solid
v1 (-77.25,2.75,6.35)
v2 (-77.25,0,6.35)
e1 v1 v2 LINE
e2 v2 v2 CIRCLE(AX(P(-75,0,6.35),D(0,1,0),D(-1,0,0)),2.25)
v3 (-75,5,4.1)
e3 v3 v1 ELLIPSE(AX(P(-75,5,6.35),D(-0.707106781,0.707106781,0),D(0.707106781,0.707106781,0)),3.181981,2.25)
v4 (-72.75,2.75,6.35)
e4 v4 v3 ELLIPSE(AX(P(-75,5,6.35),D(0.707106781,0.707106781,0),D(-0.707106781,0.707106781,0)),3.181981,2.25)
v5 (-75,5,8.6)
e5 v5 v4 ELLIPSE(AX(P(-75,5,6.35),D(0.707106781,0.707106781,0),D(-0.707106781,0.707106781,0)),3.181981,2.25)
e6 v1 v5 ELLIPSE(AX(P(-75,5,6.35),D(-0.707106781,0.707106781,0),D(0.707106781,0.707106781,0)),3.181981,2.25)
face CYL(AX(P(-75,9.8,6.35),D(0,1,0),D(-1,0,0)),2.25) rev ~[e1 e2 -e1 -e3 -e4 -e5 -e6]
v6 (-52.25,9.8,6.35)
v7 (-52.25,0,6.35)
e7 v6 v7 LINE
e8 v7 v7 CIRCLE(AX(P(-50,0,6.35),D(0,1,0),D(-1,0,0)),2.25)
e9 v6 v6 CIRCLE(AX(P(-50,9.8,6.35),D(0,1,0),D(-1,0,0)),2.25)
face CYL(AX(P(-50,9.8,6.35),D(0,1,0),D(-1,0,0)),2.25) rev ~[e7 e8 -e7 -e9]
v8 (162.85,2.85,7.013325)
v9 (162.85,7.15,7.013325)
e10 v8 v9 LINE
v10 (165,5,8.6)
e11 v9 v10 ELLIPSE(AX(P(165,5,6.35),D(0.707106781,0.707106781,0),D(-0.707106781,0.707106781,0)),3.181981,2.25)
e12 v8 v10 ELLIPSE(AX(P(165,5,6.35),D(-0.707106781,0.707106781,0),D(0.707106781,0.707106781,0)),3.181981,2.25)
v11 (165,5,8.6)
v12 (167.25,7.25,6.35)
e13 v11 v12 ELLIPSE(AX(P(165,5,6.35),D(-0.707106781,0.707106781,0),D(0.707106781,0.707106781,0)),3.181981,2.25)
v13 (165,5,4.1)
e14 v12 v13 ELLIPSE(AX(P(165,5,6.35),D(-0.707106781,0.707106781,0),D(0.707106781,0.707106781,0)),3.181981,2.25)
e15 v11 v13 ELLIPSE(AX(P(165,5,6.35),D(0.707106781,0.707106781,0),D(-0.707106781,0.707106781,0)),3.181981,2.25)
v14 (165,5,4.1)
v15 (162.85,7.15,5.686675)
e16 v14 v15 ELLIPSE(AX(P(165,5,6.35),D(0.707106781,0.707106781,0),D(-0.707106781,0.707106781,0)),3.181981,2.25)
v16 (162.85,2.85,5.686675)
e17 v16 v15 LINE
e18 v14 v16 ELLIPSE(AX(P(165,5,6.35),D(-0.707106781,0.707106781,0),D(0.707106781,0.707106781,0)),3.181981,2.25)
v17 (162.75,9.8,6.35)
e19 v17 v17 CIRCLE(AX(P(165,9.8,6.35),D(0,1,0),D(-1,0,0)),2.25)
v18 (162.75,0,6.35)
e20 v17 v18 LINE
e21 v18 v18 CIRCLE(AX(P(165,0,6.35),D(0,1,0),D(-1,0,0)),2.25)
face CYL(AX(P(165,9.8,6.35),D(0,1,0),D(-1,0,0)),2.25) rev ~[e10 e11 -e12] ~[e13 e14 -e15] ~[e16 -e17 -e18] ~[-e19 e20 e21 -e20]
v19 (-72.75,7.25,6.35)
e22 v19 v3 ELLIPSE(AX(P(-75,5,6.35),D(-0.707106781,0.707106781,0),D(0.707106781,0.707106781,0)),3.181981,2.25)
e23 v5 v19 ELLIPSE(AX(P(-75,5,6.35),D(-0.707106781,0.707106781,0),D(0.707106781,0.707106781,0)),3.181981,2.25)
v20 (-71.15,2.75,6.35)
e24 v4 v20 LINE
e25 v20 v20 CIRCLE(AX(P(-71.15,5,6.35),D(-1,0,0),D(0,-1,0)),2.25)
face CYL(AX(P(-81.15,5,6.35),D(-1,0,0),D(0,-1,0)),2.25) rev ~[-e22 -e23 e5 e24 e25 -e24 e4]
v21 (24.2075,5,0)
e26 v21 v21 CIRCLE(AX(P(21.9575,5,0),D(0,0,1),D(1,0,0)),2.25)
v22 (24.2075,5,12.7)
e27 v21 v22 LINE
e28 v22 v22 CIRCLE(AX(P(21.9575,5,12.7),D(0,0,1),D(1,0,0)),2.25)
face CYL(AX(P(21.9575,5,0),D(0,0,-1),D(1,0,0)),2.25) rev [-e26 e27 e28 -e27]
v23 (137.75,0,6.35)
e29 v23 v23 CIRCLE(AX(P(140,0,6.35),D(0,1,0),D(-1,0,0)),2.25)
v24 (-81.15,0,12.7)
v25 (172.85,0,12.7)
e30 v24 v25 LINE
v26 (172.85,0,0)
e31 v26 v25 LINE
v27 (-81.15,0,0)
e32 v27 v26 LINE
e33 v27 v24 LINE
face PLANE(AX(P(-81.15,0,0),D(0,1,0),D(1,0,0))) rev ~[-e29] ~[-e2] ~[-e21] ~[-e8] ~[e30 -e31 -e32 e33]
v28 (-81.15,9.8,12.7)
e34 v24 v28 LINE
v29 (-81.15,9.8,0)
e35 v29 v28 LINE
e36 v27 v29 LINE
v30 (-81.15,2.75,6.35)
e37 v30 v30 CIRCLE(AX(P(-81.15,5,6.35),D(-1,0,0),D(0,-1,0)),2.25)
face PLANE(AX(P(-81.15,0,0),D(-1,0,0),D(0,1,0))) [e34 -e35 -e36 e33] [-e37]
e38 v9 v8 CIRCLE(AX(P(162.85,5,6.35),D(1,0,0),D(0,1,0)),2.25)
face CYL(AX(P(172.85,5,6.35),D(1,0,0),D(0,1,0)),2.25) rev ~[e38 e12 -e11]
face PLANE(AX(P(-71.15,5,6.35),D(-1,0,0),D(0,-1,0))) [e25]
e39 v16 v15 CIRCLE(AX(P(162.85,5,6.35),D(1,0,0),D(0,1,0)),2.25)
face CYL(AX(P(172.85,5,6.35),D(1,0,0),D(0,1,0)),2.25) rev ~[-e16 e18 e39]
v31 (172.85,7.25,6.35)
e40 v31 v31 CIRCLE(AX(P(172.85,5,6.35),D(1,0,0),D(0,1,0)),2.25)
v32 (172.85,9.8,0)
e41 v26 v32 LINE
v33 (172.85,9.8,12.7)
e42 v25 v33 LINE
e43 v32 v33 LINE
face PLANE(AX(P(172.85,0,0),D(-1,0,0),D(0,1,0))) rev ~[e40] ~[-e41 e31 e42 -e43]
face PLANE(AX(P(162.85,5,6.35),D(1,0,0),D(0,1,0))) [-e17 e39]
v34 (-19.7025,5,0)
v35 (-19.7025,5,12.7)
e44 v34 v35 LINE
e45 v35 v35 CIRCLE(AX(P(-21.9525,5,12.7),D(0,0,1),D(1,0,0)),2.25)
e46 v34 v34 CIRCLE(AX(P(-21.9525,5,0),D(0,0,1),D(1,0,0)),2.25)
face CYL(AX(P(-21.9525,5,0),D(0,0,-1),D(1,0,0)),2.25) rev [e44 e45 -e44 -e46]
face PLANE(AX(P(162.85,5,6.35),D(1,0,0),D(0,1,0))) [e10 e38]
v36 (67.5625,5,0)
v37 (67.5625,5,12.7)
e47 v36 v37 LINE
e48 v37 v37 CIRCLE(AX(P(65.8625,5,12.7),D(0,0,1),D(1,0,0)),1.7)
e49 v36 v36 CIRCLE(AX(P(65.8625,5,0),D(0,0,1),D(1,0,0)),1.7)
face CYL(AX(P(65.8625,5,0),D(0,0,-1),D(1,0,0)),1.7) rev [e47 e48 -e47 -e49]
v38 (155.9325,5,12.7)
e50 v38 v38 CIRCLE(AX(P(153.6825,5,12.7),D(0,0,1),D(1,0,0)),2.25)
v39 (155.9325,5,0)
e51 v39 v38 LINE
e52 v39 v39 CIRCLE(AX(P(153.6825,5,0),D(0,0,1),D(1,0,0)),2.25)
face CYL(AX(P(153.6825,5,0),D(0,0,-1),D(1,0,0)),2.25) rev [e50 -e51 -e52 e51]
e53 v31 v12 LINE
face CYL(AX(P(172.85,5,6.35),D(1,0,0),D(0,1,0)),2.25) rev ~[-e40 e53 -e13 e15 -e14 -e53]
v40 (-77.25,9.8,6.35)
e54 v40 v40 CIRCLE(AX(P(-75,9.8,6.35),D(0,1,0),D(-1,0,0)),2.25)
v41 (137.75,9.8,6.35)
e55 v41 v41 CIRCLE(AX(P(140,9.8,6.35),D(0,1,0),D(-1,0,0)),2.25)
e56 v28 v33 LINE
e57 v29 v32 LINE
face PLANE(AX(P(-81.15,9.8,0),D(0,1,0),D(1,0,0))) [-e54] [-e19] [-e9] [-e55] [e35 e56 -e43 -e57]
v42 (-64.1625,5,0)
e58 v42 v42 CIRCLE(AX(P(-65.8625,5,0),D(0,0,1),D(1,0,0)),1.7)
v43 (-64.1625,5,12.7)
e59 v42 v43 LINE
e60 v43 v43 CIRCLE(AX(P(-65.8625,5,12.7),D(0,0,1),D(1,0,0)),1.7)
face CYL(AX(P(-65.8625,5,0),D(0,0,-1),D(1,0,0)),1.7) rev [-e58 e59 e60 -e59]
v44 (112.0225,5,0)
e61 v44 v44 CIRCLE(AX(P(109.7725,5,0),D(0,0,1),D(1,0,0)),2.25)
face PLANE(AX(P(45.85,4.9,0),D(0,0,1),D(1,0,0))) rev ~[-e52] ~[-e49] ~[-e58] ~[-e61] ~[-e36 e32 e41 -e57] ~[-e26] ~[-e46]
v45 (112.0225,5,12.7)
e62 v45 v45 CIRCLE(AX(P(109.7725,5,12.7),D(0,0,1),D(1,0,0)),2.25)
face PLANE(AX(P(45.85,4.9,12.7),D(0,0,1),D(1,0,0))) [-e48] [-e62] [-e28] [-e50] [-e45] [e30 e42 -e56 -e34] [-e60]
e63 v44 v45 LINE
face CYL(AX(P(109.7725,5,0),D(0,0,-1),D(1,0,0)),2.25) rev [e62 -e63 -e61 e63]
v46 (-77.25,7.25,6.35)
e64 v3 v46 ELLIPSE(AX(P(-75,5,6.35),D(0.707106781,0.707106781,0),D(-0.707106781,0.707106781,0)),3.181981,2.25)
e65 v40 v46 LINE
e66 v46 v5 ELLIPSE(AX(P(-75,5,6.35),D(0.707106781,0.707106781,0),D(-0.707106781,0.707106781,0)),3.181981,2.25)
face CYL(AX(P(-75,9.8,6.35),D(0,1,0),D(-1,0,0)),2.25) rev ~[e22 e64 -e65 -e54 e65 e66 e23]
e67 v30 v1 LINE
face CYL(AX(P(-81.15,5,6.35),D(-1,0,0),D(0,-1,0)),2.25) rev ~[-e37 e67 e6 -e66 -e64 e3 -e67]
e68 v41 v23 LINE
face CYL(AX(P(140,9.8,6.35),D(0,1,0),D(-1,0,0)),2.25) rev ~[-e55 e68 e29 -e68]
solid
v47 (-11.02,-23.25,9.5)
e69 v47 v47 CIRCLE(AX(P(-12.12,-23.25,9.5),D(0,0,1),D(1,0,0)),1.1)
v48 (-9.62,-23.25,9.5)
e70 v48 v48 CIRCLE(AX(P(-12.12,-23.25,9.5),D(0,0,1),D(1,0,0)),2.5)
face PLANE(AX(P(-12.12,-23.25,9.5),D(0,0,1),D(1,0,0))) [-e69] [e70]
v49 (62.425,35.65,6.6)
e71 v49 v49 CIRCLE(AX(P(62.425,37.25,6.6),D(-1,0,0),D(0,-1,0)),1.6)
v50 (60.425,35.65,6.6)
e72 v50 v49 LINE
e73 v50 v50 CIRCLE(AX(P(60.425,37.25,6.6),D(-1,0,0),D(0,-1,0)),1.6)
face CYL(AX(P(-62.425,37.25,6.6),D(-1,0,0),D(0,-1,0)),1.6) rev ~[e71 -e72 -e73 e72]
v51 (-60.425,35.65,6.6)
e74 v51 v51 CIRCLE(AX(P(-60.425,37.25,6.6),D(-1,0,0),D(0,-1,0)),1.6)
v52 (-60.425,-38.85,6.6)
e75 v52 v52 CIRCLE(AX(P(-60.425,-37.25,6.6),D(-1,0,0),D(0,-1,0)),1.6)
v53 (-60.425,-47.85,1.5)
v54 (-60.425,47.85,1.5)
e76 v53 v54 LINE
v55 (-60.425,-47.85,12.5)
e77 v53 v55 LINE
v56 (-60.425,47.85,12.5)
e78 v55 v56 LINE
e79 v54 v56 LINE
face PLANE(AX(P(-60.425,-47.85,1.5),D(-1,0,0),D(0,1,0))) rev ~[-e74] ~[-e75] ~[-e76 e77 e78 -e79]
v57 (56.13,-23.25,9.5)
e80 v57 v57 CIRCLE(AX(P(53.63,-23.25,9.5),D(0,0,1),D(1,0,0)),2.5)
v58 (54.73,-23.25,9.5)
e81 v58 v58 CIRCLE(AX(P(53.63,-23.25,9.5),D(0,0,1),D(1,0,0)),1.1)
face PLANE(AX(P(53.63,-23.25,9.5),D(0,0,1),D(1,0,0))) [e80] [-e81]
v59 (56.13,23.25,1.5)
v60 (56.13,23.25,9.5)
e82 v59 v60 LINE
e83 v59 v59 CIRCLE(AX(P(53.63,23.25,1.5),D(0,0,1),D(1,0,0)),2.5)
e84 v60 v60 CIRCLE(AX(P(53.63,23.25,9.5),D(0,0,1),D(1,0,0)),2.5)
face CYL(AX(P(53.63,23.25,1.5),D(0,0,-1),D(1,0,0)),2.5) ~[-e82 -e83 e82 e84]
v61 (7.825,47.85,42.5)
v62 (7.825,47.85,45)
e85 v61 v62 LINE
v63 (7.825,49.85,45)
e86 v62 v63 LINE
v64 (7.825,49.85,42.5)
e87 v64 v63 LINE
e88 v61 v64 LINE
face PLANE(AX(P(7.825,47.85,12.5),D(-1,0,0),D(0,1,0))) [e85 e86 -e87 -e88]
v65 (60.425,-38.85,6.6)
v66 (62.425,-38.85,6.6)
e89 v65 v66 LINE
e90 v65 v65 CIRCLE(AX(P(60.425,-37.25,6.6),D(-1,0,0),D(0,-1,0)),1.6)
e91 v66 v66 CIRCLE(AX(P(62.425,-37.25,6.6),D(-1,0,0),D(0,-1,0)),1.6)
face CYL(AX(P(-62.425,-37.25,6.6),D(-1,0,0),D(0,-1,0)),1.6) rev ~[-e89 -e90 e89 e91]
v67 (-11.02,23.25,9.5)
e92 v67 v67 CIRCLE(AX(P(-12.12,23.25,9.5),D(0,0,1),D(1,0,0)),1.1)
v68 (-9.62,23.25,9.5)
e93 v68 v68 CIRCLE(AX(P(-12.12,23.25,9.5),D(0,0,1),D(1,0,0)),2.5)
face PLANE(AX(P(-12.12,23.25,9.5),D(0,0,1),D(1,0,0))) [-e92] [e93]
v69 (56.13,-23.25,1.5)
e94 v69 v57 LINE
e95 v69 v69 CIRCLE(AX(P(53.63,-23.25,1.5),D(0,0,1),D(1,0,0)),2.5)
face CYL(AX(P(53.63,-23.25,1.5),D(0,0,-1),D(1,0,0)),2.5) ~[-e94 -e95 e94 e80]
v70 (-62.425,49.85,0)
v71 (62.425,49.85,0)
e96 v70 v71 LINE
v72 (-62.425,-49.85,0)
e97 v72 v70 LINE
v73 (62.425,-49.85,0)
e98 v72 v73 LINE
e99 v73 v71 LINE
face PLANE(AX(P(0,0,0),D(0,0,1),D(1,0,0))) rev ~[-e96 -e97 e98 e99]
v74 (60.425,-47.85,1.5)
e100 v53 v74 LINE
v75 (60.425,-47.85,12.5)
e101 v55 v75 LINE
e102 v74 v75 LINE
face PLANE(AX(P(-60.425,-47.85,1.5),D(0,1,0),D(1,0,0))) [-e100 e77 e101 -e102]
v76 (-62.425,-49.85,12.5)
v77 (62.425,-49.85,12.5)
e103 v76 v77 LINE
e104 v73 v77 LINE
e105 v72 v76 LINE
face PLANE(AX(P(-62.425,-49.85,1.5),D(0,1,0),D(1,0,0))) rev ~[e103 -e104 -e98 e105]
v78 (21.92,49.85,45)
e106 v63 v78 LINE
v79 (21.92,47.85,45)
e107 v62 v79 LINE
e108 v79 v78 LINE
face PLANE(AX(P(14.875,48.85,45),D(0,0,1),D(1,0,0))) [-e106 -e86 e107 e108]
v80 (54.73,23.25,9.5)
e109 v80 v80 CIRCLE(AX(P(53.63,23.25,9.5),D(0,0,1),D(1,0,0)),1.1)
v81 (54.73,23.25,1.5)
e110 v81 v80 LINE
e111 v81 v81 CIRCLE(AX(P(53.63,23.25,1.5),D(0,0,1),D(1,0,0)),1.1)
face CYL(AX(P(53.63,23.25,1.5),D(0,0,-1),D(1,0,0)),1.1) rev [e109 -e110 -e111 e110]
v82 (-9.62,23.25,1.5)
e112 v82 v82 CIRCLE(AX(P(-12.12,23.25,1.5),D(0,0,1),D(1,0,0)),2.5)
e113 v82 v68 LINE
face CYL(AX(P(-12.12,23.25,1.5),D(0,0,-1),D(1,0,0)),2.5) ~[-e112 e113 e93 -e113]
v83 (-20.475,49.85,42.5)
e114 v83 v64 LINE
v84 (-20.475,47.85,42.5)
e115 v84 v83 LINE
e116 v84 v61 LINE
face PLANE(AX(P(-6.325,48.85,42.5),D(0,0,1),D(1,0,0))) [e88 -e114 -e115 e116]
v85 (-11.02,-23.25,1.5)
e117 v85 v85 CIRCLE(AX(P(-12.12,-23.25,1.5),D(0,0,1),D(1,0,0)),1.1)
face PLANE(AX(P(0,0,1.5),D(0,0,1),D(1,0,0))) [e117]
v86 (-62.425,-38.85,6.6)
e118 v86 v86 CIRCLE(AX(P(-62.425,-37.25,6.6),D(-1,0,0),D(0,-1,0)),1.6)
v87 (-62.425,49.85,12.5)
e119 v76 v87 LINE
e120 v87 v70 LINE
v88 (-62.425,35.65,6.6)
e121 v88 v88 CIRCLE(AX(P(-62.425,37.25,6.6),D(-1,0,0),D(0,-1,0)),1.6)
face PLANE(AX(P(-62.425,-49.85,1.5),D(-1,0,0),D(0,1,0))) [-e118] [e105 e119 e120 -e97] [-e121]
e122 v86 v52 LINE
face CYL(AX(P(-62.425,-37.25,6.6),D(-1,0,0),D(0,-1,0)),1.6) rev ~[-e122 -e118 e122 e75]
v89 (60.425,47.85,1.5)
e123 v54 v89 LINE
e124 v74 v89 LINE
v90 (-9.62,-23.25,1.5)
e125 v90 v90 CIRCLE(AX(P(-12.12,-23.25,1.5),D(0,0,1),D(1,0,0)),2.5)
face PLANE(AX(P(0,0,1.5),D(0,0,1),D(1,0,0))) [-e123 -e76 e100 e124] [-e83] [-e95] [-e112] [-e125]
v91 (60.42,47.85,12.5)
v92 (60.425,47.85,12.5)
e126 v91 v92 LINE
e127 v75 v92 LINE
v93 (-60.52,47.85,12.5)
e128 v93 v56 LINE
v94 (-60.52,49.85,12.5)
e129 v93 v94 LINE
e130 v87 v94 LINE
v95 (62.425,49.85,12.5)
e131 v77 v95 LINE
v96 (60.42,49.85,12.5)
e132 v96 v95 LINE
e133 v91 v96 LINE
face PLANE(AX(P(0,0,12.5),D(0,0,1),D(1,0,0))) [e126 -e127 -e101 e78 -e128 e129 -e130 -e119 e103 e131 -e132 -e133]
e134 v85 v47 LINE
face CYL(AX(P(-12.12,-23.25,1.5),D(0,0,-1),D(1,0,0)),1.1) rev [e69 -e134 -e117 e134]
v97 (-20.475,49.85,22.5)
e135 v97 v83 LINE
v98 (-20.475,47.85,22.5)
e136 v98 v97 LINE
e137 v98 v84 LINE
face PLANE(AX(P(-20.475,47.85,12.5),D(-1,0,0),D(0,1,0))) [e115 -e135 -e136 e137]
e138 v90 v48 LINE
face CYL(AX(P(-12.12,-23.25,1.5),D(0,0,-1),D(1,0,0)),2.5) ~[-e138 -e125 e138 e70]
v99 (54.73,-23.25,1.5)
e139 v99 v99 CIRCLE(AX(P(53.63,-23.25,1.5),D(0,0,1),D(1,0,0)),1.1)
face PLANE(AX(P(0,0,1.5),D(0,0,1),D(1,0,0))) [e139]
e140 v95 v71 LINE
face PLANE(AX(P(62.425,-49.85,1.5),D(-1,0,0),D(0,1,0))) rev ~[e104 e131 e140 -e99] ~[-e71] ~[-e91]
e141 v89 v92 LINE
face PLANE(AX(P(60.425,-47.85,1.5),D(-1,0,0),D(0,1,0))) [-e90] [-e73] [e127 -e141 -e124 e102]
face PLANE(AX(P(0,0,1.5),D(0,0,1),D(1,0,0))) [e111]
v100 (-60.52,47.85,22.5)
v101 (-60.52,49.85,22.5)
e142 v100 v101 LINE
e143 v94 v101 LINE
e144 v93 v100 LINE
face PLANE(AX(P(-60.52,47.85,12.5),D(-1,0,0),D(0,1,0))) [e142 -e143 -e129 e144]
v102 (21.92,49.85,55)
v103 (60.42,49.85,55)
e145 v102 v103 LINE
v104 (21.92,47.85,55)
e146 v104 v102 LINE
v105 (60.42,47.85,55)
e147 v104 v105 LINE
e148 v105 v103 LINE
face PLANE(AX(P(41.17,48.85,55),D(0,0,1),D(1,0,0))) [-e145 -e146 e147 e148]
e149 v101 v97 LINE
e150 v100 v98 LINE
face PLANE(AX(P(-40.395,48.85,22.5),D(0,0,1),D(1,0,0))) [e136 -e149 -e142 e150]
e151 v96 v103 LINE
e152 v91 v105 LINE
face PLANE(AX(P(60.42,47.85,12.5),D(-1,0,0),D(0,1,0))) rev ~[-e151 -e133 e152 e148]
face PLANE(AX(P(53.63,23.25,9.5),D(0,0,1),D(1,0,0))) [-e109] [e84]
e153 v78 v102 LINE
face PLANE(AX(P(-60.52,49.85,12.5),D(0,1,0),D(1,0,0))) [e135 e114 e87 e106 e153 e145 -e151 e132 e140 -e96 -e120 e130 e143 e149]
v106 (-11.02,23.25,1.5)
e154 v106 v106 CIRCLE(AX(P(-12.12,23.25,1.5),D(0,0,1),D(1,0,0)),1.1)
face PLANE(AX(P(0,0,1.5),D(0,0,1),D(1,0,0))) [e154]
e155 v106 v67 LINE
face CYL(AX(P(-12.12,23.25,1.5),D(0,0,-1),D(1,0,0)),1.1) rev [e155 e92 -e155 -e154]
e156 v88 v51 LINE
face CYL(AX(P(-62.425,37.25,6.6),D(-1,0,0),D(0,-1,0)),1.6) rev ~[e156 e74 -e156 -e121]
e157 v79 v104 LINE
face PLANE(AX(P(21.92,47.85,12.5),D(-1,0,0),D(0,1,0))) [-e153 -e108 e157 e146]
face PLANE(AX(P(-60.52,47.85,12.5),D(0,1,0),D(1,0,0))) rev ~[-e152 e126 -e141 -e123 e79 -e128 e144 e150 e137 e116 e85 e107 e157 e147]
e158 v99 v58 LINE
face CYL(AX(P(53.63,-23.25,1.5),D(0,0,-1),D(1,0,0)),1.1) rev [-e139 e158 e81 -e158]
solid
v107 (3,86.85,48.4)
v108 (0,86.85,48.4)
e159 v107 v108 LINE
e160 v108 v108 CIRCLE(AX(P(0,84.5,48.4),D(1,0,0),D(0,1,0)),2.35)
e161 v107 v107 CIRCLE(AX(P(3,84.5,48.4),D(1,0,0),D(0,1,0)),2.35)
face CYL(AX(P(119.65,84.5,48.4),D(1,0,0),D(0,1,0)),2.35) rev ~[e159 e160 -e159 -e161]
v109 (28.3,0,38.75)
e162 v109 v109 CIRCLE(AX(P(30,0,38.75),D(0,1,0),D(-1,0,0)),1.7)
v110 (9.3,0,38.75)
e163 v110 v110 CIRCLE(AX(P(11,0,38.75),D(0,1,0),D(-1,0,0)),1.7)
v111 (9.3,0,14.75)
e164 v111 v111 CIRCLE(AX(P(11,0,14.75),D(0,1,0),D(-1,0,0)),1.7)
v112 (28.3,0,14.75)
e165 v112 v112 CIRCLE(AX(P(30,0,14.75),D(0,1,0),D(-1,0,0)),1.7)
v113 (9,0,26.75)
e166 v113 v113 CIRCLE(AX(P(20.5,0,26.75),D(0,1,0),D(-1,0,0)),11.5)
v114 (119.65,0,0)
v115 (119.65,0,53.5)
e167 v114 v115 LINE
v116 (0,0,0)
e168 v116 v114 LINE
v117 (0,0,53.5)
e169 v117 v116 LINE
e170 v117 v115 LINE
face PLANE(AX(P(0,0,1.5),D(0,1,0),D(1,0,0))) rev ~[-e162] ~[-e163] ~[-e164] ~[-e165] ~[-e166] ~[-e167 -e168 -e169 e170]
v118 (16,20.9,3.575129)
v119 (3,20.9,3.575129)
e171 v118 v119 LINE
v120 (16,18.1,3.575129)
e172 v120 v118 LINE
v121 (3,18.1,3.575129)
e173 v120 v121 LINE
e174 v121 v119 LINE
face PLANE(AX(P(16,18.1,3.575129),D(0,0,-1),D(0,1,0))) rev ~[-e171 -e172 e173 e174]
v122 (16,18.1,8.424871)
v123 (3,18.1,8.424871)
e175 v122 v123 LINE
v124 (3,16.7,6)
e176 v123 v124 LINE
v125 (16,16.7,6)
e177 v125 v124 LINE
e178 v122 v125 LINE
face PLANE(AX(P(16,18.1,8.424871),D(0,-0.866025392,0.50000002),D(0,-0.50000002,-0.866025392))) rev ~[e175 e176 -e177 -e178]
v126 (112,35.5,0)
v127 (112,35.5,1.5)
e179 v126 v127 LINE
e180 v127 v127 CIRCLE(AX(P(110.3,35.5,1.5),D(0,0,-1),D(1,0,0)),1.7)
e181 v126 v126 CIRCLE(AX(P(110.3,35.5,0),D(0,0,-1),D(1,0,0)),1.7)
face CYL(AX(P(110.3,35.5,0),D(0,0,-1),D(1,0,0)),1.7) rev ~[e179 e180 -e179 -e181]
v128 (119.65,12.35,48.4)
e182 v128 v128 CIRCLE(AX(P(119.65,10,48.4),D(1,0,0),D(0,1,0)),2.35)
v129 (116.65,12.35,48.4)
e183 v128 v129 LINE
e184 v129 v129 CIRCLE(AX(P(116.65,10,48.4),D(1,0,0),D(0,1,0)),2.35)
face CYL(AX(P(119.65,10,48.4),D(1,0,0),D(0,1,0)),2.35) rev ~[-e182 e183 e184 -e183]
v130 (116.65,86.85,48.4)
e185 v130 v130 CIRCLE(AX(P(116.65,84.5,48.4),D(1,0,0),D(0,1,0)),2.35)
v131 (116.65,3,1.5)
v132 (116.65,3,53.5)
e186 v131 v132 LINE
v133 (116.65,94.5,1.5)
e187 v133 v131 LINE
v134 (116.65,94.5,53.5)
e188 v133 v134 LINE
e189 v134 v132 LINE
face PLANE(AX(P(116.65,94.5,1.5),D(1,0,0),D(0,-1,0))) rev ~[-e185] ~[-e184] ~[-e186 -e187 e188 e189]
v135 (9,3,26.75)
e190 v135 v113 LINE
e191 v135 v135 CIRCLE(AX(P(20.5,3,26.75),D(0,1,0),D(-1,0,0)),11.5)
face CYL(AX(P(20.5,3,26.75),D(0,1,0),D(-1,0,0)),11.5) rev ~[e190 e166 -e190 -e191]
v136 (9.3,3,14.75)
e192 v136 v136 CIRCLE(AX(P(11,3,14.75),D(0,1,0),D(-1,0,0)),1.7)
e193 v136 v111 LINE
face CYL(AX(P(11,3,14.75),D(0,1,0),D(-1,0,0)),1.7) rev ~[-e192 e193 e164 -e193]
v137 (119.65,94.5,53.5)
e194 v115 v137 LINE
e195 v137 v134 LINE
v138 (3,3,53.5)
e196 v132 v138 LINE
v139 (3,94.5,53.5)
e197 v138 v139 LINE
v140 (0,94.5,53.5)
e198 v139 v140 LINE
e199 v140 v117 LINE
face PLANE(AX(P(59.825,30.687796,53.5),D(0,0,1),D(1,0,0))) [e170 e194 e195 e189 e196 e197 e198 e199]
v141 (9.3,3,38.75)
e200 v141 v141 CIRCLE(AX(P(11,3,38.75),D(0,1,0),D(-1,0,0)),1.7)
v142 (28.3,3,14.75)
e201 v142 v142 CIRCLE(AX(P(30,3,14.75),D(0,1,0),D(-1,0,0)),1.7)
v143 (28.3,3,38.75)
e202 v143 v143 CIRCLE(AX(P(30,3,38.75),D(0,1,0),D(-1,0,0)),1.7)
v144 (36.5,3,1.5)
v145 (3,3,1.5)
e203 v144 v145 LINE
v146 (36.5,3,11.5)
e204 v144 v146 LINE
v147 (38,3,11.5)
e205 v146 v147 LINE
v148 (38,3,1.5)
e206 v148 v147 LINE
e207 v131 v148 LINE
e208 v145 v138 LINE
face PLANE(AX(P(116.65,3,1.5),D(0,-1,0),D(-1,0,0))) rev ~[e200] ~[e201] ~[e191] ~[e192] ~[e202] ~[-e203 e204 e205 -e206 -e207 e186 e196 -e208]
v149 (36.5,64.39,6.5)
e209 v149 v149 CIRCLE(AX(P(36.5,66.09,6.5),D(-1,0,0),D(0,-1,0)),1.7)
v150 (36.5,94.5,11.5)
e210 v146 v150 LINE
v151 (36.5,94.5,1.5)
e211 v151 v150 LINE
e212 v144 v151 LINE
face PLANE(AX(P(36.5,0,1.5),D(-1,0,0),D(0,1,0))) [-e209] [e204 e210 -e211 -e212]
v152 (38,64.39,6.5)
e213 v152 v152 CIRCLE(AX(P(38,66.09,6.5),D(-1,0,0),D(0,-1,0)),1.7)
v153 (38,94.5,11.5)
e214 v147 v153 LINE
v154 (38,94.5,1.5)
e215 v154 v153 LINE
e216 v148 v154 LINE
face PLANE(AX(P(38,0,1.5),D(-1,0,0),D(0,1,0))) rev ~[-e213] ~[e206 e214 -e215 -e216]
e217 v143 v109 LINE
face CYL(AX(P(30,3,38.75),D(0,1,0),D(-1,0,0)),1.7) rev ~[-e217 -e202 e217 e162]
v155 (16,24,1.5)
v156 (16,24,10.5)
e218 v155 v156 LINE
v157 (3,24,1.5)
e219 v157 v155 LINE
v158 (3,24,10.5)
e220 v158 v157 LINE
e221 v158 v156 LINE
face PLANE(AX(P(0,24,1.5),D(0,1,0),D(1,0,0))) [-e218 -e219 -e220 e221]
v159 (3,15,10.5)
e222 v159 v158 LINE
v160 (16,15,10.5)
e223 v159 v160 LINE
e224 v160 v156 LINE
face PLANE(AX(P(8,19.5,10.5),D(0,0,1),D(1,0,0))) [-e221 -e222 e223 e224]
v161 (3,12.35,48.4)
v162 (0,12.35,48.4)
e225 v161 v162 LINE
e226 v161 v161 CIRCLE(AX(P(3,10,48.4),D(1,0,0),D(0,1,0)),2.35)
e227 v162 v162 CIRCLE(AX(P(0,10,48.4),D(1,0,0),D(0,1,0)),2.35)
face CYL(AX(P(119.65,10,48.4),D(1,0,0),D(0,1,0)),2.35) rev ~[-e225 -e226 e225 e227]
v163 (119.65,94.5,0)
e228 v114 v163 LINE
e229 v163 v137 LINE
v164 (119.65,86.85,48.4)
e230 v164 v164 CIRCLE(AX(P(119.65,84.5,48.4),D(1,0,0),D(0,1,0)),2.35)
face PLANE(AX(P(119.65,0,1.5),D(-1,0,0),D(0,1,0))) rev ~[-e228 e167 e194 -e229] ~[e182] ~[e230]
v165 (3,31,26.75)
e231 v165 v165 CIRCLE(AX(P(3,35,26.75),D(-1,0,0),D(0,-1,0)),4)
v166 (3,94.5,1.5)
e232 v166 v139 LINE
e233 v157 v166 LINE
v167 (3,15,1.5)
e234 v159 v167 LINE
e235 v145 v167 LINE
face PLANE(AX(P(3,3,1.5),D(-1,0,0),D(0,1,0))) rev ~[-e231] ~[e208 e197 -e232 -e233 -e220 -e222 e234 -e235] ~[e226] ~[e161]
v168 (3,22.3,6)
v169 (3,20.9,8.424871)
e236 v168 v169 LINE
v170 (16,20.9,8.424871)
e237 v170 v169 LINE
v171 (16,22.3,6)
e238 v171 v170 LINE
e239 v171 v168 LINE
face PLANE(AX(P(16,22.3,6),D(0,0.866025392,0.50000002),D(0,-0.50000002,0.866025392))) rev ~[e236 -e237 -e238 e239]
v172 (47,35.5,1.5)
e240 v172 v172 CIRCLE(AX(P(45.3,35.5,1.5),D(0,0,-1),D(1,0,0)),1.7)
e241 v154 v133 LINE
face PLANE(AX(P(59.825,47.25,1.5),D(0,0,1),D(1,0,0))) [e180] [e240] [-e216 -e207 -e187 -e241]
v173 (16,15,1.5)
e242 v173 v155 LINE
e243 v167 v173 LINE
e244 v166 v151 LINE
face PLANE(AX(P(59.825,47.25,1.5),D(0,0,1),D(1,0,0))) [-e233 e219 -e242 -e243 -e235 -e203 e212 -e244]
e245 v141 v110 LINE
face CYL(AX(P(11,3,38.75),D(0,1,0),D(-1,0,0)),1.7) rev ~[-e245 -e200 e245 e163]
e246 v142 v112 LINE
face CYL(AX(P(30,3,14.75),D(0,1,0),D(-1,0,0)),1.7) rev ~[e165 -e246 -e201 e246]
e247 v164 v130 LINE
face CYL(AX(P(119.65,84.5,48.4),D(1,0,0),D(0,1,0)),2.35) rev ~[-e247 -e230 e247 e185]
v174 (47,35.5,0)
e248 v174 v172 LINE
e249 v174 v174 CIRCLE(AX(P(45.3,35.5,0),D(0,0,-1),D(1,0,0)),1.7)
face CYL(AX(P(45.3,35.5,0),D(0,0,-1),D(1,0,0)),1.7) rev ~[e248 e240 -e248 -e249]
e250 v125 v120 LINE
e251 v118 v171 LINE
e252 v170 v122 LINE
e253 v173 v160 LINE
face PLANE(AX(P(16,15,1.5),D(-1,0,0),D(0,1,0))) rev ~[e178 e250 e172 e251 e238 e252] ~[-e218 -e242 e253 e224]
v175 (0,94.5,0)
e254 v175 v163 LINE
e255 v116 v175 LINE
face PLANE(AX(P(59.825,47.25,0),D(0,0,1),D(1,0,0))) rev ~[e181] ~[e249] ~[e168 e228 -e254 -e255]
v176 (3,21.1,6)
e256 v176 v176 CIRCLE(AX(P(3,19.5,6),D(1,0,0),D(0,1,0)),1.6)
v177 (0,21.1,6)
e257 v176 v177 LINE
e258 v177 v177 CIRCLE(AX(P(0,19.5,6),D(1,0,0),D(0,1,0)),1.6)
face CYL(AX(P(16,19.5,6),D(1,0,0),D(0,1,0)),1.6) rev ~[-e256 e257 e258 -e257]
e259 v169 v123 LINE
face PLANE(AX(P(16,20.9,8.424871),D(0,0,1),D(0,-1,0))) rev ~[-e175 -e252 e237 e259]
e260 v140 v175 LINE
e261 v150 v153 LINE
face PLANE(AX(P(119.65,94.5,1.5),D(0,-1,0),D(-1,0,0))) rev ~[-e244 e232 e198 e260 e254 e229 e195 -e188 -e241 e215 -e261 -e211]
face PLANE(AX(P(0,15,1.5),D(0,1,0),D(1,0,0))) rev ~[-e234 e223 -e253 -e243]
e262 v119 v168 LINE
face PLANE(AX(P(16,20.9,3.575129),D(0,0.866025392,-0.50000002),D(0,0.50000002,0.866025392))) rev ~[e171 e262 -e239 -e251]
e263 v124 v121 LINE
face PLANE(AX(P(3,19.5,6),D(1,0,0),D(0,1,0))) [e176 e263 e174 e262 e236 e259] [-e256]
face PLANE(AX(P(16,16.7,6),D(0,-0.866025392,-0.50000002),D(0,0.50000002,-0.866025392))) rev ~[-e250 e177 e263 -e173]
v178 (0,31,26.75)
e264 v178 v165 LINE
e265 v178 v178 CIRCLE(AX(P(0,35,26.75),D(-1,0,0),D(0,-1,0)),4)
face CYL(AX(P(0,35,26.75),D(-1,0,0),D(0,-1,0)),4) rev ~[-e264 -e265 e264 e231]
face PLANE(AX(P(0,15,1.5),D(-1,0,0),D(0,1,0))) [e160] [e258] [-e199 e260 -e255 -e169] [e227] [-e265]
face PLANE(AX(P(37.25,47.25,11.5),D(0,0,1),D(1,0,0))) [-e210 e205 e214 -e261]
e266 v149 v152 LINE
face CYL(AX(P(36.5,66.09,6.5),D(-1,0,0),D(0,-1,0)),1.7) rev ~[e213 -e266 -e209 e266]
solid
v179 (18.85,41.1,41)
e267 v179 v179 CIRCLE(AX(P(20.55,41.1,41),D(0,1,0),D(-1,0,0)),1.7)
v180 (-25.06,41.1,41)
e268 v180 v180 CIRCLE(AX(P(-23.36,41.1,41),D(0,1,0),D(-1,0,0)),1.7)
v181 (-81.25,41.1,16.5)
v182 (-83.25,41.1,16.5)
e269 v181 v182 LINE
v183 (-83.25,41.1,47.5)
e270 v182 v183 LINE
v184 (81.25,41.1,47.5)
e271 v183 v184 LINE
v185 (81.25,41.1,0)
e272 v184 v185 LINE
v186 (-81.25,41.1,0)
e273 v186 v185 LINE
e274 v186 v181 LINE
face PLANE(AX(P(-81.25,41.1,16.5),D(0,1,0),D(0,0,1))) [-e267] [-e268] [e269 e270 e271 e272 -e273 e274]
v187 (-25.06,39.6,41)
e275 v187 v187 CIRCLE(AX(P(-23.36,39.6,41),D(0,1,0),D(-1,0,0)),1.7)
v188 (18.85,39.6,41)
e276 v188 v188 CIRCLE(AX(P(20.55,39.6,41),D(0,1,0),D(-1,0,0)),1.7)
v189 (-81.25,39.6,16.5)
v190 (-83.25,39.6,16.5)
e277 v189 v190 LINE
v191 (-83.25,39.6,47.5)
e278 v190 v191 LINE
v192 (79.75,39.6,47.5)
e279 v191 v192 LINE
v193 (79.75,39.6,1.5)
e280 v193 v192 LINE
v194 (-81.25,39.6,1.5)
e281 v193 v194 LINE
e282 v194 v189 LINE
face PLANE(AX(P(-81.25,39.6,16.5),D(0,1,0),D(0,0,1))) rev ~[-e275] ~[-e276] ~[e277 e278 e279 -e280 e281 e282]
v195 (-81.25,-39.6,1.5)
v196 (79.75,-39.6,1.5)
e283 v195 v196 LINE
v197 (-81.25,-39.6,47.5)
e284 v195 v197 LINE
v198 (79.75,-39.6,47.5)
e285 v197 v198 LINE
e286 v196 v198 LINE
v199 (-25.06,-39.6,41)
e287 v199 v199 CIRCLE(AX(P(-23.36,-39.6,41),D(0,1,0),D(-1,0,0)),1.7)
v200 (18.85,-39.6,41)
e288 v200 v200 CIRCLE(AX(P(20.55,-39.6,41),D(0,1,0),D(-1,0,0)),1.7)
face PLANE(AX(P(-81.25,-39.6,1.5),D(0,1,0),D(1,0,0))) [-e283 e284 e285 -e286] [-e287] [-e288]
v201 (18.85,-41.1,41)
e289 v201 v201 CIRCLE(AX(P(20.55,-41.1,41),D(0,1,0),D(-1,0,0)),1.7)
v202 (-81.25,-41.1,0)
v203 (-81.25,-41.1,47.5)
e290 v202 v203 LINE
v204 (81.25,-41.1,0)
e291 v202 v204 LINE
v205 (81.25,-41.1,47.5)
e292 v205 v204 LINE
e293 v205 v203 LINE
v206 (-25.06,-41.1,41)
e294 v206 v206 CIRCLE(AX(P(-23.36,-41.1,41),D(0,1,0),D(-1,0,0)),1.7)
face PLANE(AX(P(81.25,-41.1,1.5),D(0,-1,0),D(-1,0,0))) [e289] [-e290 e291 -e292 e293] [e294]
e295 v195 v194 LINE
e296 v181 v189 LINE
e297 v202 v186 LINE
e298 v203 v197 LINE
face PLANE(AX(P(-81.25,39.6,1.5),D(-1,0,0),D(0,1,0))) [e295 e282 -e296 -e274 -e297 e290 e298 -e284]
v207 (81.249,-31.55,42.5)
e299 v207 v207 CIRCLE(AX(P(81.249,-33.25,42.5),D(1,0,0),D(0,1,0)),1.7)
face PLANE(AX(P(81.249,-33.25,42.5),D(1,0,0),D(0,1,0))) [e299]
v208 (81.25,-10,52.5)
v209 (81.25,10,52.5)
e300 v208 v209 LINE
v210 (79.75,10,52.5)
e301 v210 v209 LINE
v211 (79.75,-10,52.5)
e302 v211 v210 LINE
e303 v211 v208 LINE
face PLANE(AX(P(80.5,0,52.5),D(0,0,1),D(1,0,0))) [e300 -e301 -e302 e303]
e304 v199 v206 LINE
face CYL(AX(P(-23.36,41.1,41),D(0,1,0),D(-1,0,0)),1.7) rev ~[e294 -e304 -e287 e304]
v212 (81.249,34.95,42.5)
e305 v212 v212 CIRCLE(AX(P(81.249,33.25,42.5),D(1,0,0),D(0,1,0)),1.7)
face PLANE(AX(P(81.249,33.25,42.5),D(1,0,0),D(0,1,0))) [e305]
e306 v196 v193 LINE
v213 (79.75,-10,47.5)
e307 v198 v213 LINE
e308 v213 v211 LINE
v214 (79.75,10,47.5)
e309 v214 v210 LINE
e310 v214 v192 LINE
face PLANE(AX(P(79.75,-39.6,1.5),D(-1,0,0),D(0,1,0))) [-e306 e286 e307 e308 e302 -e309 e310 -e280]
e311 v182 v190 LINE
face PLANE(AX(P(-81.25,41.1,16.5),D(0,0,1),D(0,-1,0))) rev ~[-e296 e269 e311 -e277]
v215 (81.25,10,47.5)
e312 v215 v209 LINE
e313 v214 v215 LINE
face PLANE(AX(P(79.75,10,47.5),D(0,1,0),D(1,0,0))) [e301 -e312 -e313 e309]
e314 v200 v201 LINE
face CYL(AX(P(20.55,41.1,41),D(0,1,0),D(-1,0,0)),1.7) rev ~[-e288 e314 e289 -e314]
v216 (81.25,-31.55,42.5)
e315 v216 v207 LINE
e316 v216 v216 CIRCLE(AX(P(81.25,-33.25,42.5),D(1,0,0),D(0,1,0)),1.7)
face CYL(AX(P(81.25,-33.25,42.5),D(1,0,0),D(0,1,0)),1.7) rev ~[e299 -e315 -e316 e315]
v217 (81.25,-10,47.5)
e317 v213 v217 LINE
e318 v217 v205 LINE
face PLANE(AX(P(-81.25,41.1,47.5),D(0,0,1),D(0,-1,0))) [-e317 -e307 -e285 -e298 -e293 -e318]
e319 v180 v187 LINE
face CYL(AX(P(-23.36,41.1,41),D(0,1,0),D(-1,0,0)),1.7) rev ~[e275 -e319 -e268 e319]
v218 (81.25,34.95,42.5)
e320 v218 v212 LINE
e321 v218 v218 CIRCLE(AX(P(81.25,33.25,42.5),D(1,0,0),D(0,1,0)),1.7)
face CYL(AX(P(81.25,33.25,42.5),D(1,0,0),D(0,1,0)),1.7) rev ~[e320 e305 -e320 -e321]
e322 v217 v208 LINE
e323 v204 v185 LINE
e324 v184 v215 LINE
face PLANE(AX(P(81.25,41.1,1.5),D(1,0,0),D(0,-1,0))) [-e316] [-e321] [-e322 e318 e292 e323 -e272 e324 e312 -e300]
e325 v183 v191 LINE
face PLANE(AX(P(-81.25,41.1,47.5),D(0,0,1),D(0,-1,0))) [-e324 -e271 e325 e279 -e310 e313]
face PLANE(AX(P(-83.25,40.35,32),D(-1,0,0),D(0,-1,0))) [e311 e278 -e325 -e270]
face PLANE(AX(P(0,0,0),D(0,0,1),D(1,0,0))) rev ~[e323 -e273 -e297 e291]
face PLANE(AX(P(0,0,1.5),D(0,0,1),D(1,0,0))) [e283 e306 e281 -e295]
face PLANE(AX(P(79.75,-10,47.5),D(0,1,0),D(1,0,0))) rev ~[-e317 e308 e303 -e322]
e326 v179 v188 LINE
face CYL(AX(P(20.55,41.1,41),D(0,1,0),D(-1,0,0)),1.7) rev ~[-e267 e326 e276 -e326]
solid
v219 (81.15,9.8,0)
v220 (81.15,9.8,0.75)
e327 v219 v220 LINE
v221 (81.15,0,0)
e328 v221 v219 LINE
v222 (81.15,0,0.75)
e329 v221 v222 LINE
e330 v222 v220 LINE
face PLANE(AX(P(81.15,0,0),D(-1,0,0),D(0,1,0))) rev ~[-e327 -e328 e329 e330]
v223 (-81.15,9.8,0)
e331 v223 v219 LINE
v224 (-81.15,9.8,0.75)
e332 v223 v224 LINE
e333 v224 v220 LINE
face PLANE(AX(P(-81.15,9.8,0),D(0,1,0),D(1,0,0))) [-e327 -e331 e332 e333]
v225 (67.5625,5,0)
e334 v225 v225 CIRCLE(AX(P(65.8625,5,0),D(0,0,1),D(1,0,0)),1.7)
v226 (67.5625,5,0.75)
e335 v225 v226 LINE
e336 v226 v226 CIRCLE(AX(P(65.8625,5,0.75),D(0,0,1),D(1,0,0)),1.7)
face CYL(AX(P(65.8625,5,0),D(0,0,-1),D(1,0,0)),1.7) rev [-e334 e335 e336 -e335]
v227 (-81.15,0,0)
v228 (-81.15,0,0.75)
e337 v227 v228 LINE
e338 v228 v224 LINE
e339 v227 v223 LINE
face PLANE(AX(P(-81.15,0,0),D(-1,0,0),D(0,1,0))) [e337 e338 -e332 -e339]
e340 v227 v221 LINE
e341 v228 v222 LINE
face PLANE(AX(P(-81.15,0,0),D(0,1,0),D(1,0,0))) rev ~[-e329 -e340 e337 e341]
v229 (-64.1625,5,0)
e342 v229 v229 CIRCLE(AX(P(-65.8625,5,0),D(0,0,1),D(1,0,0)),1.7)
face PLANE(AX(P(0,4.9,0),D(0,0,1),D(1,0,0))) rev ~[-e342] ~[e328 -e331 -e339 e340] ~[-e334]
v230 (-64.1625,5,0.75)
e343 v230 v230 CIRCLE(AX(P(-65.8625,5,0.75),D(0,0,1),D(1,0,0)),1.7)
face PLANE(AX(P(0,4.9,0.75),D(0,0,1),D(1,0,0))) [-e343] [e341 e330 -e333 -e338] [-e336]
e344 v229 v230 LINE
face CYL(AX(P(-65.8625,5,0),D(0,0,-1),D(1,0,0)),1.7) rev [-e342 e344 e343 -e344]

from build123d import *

# Parameters (mm, degrees)
SKETCH_W        = 162.3
SKETCH_H        = 9.8
SKETCH_R        = 1.7
PAD_DEPTH       = 0.75
SKETCH001_W     = 254
SKETCH001_H     = 9.8
SKETCH001_R     = 1.7
SKETCH001_R_2   = 2.25
PAD001_DEPTH    = 12.7
SKETCH002_R     = 2.25
POCKET_DEPTH    = 9.801
SKETCH003_R     = 2.25
POCKET001_DEPTH = 10
SKETCH004_R     = 2.25
POCKET002_DEPTH = 10
SKETCH005_W     = 119.65
SKETCH005_H     = 94.5
PAD002_DEPTH    = 1.5
SKETCH006_W     = 1.5
SKETCH006_H     = 94.5
PAD003_DEPTH    = 10
SKETCH007_R     = 1.7
POCKET003_DEPTH = 1.5
PAD004_DEPTH    = 52
SKETCH009_R     = 4
POCKET004_DEPTH = 3
SKETCH010_R     = 11.5
SKETCH010_R_2   = 1.7
POCKET005_DEPTH = 3
SKETCH011_W     = 16
SKETCH011_H     = 9
PAD005_DEPTH    = 9
SKETCH012_R     = 1.6
POCKET006_DEPTH = 16.001
POCKET007_DEPTH = 13
SKETCH014_R     = 1.7
POCKET008_DEPTH = 1.5
SKETCH015_R     = 2.35
POCKET009_DEPTH = 119.651
SKETCH016_W     = 124.85
SKETCH016_H     = 99.7
PAD006_DEPTH    = 1.5
SKETCH017_W     = 124.85
SKETCH017_H     = 99.7
SKETCH017_W_2   = 120.85
SKETCH017_H_2   = 95.7
PAD007_DEPTH    = 11
SKETCH018_R     = 1.6
POCKET010_DEPTH = 124.851
SKETCH019_R     = 2.5
SKETCH019_R_2   = 1.1
PAD008_DEPTH    = 8
SKETCH020_W     = 38.5
SKETCH020_H     = 2
PAD009_DEPTH    = 42.5
SKETCH021_W     = 14.1
SKETCH021_H     = 2
PAD010_DEPTH    = 32.5
SKETCH022_W     = 28.3
SKETCH022_H     = 2
PAD011_DEPTH    = 30
SKETCH023_W     = 40.25
SKETCH023_H     = 2
PAD012_DEPTH    = 10
SKETCH024_W     = 162.5
SKETCH024_H     = 82.2
PAD013_DEPTH    = 1.5
PAD014_DEPTH    = 46
SKETCH026_W     = 1.5
SKETCH026_H     = 31
PAD015_DEPTH    = 2
SKETCH027_W     = 1.5
SKETCH027_H     = 20
PAD016_DEPTH    = 5
SKETCH028_R     = 1.7
POCKET011_DEPTH = 0.001
SKETCH029_R     = 1.7
POCKET012_DEPTH = 82.201


with BuildPart() as wsbody:
    # Sketch → Pad (new body)
    with BuildSketch(Plane.XY):
        with Locations((0, 4.9)):
            Rectangle(SKETCH_W, SKETCH_H)
        with Locations((-65.8625, 5)):
            Circle(SKETCH_R, mode=Mode.SUBTRACT)
        with Locations((65.8625, 5)):
            Circle(SKETCH_R, mode=Mode.SUBTRACT)
    extrude(amount=PAD_DEPTH)


with BuildPart() as wsbody001:
    # Sketch001 → Pad001 (new body)
    with BuildSketch(Plane.XY):
        with Locations((45.85, 4.9)):
            Rectangle(SKETCH001_W, SKETCH001_H)
        with Locations((-65.8625, 5)):
            Circle(SKETCH001_R, mode=Mode.SUBTRACT)
        with Locations((65.8625, 5)):
            Circle(SKETCH001_R, mode=Mode.SUBTRACT)
        with Locations((-21.9525, 5)):
            Circle(SKETCH001_R_2, mode=Mode.SUBTRACT)
        with Locations((21.9575, 5)):
            Circle(SKETCH001_R_2, mode=Mode.SUBTRACT)
        with Locations((109.7725, 5)):
            Circle(SKETCH001_R_2, mode=Mode.SUBTRACT)
        with Locations((153.6825, 5)):
            Circle(SKETCH001_R_2, mode=Mode.SUBTRACT)
    extrude(amount=PAD001_DEPTH)

    # Sketch002 (on Face3 of Pad001) → Pocket (cut, through all)
    with BuildSketch(Plane(origin=(0, 9.8, 0), x_dir=(-1, 0, 0), z_dir=(0, 1, 0))):
        with Locations((-165, 6.35)):
            Circle(SKETCH002_R)
        with Locations((-140, 6.35)):
            Circle(SKETCH002_R)
        with Locations((50, 6.35)):
            Circle(SKETCH002_R)
        with Locations((75, 6.35)):
            Circle(SKETCH002_R)
    extrude(amount=-POCKET_DEPTH, mode=Mode.SUBTRACT)

    # Sketch003 (on Face5 of Pocket) → Pocket001 (cut)
    with BuildSketch(Plane.YZ.offset(172.85)):
        with Locations((5, 6.35)):
            Circle(SKETCH003_R)
    extrude(amount=-POCKET001_DEPTH, mode=Mode.SUBTRACT)

    # Sketch004 (on Face2 of Pocket001) → Pocket002 (cut)
    with BuildSketch(Plane(origin=(-81.15, 0, 0), x_dir=(0, -1, 0), z_dir=(-1, 0, 0))):
        with Locations((-5, 6.35)):
            Circle(SKETCH004_R)
    extrude(amount=-POCKET002_DEPTH, mode=Mode.SUBTRACT)


with BuildPart() as motorbox1body:
    # Sketch005 → Pad002 (new body)
    with BuildSketch(Plane.XY):
        with Locations((59.825, 47.25)):
            Rectangle(SKETCH005_W, SKETCH005_H)
    extrude(amount=PAD002_DEPTH)

    # Sketch006 (on Face6 of Pad002) → Pad003 (join)
    with BuildSketch(Plane.XY.offset(1.5)):
        with Locations((37.25, 47.25)):
            Rectangle(SKETCH006_W, SKETCH006_H)
    extrude(amount=PAD003_DEPTH)

    # Sketch007 (on Face10 of Pad003) → Pocket003 (cut)
    with BuildSketch(Plane(origin=(36.5, 0, 0), x_dir=(0, -1, 0), z_dir=(-1, 0, 0))):
        with Locations((-66.09, 6.5)):
            Circle(SKETCH007_R)
    extrude(amount=-POCKET003_DEPTH, mode=Mode.SUBTRACT)

    # Sketch008 (on Face7 of Pocket003) → Pad004 (join)
    with BuildSketch(Plane.XY.offset(1.5)):
        Polygon((0, 0), (119.65, 0), (119.65, 94.5), (116.65, 94.5), (116.65, 3), (3, 3), (3, 94.5), (0, 94.5), align=None)
    extrude(amount=PAD004_DEPTH)

    # Sketch009 (on Face5 of Pad004) → Pocket004 (cut)
    with BuildSketch(Plane(origin=(0, 0, 0), x_dir=(0, -1, 0), z_dir=(-1, 0, 0))):
        with Locations((-35, 26.75)):
            Circle(SKETCH009_R)
    extrude(amount=-POCKET004_DEPTH, mode=Mode.SUBTRACT)

    # Sketch010 (on Face18 of Pocket004) → Pocket005 (cut)
    with BuildSketch(Plane(origin=(0, 3, 0), x_dir=(-1, 0, 0), z_dir=(0, 1, 0))):
        with Locations((-20.5, 26.75)):
            Circle(SKETCH010_R)
        with Locations((-30, 38.75)):
            Circle(SKETCH010_R_2)
        with Locations((-11, 38.75)):
            Circle(SKETCH010_R_2)
        with Locations((-11, 14.75)):
            Circle(SKETCH010_R_2)
        with Locations((-30, 14.75)):
            Circle(SKETCH010_R_2)
    extrude(amount=-POCKET005_DEPTH, mode=Mode.SUBTRACT)

    # Sketch011 (on Face10 of Pocket005) → Pad005 (join)
    with BuildSketch(Plane.XY.offset(1.5)):
        with Locations((8, 19.5)):
            Rectangle(SKETCH011_W, SKETCH011_H)
    extrude(amount=PAD005_DEPTH)

    # Sketch012 (on Face25 of Pad005) → Pocket006 (cut, through all)
    with BuildSketch(Plane.YZ.offset(16)):
        with Locations((19.5, 6)):
            Circle(SKETCH012_R)
    extrude(amount=-POCKET006_DEPTH, mode=Mode.SUBTRACT)

    # Sketch013 (on Face26 of Pocket006) → Pocket007 (cut)
    with BuildSketch(Plane.YZ.offset(16)):
        Polygon((22.3, 6), (20.9, 8.424871), (18.1, 8.424871), (16.7, 6), (18.1, 3.575129), (20.9, 3.575129), align=None)
    extrude(amount=-POCKET007_DEPTH, mode=Mode.SUBTRACT)

    # Sketch014 (on Face4 of Pocket007) → Pocket008 (cut)
    with BuildSketch(Plane(origin=(0, 0, 0), x_dir=(1, 0, 0), z_dir=(0, 0, -1))):
        with Locations((45.3, -35.5)):
            Circle(SKETCH014_R)
        with Locations((110.3, -35.5)):
            Circle(SKETCH014_R)
    extrude(amount=-POCKET008_DEPTH, mode=Mode.SUBTRACT)

    # Sketch015 (on Face20 of Pocket008) → Pocket009 (cut, through all)
    with BuildSketch(Plane.YZ.offset(119.65)):
        with Locations((10, 48.4)):
            Circle(SKETCH015_R)
        with Locations((84.5, 48.4)):
            Circle(SKETCH015_R)
    extrude(amount=-POCKET009_DEPTH, mode=Mode.SUBTRACT)


with BuildPart() as coverpad:
    # Sketch016 → Pad006 (new body)
    with BuildSketch(Plane.XY):
        Rectangle(SKETCH016_W, SKETCH016_H)
    extrude(amount=PAD006_DEPTH)

    # Sketch017 (on Face6 of Pad006) → Pad007 (join)
    with BuildSketch(Plane.XY.offset(1.5)):
        Rectangle(SKETCH017_W, SKETCH017_H)
        Rectangle(SKETCH017_W_2, SKETCH017_H_2, mode=Mode.SUBTRACT)
    extrude(amount=PAD007_DEPTH)

    # Sketch018 (on Face5 of Pad007) → Pocket010 (cut, through all)
    with BuildSketch(Plane(origin=(-62.425, 0, 0), x_dir=(0, -1, 0), z_dir=(-1, 0, 0))):
        with Locations((-37.25, 6.6)):
            Circle(SKETCH018_R)
        with Locations((37.25, 6.6)):
            Circle(SKETCH018_R)
    extrude(amount=-POCKET010_DEPTH, mode=Mode.SUBTRACT)

    # Sketch019 (on Face19 of Pocket010) → Pad008 (join)
    with BuildSketch(Plane.XY.offset(1.5)):
        with Locations((-12.12, 23.25)):
            Circle(SKETCH019_R)
        with Locations((-12.12, 23.25)):
            Circle(SKETCH019_R_2, mode=Mode.SUBTRACT)
        with Locations((53.63, 23.25)):
            Circle(SKETCH019_R)
        with Locations((53.63, 23.25)):
            Circle(SKETCH019_R_2, mode=Mode.SUBTRACT)
        with Locations((53.63, -23.25)):
            Circle(SKETCH019_R)
        with Locations((53.63, -23.25)):
            Circle(SKETCH019_R_2, mode=Mode.SUBTRACT)
        with Locations((-12.12, -23.25)):
            Circle(SKETCH019_R)
        with Locations((-12.12, -23.25)):
            Circle(SKETCH019_R_2, mode=Mode.SUBTRACT)
    extrude(amount=PAD008_DEPTH)

    # Sketch020 (on Face9 of Pad008) → Pad009 (join)
    with BuildSketch(Plane.XY.offset(12.5)):
        with Locations((41.17, 48.85)):
            Rectangle(SKETCH020_W, SKETCH020_H)
    extrude(amount=PAD009_DEPTH)

    # Sketch021 (on Face9 of Pad009) → Pad010 (join)
    with BuildSketch(Plane.XY.offset(12.5)):
        with Locations((14.875, 48.85)):
            Rectangle(SKETCH021_W, SKETCH021_H)
    extrude(amount=PAD010_DEPTH)

    # Sketch022 (on Face9 of Pad010) → Pad011 (join)
    with BuildSketch(Plane.XY.offset(12.5)):
        with Locations((-6.325, 48.85)):
            Rectangle(SKETCH022_W, SKETCH022_H)
    extrude(amount=PAD011_DEPTH)

    # Sketch023 (on Face9 of Pad011) → Pad012 (join)
    with BuildSketch(Plane.XY.offset(12.5)):
        with Locations((-40.395, 48.85)):
            Rectangle(SKETCH023_W, SKETCH023_H)
    extrude(amount=PAD012_DEPTH)


with BuildPart() as bigcoverbody:
    # Sketch024 → Pad013 (new body)
    with BuildSketch(Plane.XY):
        Rectangle(SKETCH024_W, SKETCH024_H)
    extrude(amount=PAD013_DEPTH)

    # Sketch025 (on Face6 of Pad013) → Pad014 (join)
    with BuildSketch(Plane.XY.offset(1.5)):
        Polygon((-81.25, 41.1), (81.25, 41.1), (81.25, -41.1), (-81.25, -41.1), (-81.25, -39.6), (79.75, -39.6), (79.75, 39.6), (-81.25, 39.6), align=None)
    extrude(amount=PAD014_DEPTH)

    # Sketch026 (on Face2 of Pad014) → Pad015 (join)
    with BuildSketch(Plane(origin=(-81.25, 0, 0), x_dir=(0, -1, 0), z_dir=(-1, 0, 0))):
        with Locations((-40.35, 32)):
            Rectangle(SKETCH026_W, SKETCH026_H)
    extrude(amount=PAD015_DEPTH)

    # Sketch027 (on Face12 of Pad015) → Pad016 (join)
    with BuildSketch(Plane.XY.offset(47.5)):
        with Locations((80.5, 0)):
            Rectangle(SKETCH027_W, SKETCH027_H)
    extrude(amount=PAD016_DEPTH)

    # Sketch028 (on Face15 of Pad016) → Pocket011 (cut)
    with BuildSketch(Plane.YZ.offset(81.25)):
        with Locations((-33.25, 42.5)):
            Circle(SKETCH028_R)
        with Locations((33.25, 42.5)):
            Circle(SKETCH028_R)
    extrude(amount=-POCKET011_DEPTH, mode=Mode.SUBTRACT)

    # Sketch029 (on Face5 of Pocket011) → Pocket012 (cut, through all)
    with BuildSketch(Plane(origin=(0, 41.1, 0), x_dir=(-1, 0, 0), z_dir=(0, 1, 0))):
        with Locations((-20.55, 41)):
            Circle(SKETCH029_R)
        with Locations((23.36, 41)):
            Circle(SKETCH029_R)
    extrude(amount=-POCKET012_DEPTH, mode=Mode.SUBTRACT)


solid = Compound([wsbody.part, wsbody001.part, motorbox1body.part, coverpad.part, bigcoverbody.part])
